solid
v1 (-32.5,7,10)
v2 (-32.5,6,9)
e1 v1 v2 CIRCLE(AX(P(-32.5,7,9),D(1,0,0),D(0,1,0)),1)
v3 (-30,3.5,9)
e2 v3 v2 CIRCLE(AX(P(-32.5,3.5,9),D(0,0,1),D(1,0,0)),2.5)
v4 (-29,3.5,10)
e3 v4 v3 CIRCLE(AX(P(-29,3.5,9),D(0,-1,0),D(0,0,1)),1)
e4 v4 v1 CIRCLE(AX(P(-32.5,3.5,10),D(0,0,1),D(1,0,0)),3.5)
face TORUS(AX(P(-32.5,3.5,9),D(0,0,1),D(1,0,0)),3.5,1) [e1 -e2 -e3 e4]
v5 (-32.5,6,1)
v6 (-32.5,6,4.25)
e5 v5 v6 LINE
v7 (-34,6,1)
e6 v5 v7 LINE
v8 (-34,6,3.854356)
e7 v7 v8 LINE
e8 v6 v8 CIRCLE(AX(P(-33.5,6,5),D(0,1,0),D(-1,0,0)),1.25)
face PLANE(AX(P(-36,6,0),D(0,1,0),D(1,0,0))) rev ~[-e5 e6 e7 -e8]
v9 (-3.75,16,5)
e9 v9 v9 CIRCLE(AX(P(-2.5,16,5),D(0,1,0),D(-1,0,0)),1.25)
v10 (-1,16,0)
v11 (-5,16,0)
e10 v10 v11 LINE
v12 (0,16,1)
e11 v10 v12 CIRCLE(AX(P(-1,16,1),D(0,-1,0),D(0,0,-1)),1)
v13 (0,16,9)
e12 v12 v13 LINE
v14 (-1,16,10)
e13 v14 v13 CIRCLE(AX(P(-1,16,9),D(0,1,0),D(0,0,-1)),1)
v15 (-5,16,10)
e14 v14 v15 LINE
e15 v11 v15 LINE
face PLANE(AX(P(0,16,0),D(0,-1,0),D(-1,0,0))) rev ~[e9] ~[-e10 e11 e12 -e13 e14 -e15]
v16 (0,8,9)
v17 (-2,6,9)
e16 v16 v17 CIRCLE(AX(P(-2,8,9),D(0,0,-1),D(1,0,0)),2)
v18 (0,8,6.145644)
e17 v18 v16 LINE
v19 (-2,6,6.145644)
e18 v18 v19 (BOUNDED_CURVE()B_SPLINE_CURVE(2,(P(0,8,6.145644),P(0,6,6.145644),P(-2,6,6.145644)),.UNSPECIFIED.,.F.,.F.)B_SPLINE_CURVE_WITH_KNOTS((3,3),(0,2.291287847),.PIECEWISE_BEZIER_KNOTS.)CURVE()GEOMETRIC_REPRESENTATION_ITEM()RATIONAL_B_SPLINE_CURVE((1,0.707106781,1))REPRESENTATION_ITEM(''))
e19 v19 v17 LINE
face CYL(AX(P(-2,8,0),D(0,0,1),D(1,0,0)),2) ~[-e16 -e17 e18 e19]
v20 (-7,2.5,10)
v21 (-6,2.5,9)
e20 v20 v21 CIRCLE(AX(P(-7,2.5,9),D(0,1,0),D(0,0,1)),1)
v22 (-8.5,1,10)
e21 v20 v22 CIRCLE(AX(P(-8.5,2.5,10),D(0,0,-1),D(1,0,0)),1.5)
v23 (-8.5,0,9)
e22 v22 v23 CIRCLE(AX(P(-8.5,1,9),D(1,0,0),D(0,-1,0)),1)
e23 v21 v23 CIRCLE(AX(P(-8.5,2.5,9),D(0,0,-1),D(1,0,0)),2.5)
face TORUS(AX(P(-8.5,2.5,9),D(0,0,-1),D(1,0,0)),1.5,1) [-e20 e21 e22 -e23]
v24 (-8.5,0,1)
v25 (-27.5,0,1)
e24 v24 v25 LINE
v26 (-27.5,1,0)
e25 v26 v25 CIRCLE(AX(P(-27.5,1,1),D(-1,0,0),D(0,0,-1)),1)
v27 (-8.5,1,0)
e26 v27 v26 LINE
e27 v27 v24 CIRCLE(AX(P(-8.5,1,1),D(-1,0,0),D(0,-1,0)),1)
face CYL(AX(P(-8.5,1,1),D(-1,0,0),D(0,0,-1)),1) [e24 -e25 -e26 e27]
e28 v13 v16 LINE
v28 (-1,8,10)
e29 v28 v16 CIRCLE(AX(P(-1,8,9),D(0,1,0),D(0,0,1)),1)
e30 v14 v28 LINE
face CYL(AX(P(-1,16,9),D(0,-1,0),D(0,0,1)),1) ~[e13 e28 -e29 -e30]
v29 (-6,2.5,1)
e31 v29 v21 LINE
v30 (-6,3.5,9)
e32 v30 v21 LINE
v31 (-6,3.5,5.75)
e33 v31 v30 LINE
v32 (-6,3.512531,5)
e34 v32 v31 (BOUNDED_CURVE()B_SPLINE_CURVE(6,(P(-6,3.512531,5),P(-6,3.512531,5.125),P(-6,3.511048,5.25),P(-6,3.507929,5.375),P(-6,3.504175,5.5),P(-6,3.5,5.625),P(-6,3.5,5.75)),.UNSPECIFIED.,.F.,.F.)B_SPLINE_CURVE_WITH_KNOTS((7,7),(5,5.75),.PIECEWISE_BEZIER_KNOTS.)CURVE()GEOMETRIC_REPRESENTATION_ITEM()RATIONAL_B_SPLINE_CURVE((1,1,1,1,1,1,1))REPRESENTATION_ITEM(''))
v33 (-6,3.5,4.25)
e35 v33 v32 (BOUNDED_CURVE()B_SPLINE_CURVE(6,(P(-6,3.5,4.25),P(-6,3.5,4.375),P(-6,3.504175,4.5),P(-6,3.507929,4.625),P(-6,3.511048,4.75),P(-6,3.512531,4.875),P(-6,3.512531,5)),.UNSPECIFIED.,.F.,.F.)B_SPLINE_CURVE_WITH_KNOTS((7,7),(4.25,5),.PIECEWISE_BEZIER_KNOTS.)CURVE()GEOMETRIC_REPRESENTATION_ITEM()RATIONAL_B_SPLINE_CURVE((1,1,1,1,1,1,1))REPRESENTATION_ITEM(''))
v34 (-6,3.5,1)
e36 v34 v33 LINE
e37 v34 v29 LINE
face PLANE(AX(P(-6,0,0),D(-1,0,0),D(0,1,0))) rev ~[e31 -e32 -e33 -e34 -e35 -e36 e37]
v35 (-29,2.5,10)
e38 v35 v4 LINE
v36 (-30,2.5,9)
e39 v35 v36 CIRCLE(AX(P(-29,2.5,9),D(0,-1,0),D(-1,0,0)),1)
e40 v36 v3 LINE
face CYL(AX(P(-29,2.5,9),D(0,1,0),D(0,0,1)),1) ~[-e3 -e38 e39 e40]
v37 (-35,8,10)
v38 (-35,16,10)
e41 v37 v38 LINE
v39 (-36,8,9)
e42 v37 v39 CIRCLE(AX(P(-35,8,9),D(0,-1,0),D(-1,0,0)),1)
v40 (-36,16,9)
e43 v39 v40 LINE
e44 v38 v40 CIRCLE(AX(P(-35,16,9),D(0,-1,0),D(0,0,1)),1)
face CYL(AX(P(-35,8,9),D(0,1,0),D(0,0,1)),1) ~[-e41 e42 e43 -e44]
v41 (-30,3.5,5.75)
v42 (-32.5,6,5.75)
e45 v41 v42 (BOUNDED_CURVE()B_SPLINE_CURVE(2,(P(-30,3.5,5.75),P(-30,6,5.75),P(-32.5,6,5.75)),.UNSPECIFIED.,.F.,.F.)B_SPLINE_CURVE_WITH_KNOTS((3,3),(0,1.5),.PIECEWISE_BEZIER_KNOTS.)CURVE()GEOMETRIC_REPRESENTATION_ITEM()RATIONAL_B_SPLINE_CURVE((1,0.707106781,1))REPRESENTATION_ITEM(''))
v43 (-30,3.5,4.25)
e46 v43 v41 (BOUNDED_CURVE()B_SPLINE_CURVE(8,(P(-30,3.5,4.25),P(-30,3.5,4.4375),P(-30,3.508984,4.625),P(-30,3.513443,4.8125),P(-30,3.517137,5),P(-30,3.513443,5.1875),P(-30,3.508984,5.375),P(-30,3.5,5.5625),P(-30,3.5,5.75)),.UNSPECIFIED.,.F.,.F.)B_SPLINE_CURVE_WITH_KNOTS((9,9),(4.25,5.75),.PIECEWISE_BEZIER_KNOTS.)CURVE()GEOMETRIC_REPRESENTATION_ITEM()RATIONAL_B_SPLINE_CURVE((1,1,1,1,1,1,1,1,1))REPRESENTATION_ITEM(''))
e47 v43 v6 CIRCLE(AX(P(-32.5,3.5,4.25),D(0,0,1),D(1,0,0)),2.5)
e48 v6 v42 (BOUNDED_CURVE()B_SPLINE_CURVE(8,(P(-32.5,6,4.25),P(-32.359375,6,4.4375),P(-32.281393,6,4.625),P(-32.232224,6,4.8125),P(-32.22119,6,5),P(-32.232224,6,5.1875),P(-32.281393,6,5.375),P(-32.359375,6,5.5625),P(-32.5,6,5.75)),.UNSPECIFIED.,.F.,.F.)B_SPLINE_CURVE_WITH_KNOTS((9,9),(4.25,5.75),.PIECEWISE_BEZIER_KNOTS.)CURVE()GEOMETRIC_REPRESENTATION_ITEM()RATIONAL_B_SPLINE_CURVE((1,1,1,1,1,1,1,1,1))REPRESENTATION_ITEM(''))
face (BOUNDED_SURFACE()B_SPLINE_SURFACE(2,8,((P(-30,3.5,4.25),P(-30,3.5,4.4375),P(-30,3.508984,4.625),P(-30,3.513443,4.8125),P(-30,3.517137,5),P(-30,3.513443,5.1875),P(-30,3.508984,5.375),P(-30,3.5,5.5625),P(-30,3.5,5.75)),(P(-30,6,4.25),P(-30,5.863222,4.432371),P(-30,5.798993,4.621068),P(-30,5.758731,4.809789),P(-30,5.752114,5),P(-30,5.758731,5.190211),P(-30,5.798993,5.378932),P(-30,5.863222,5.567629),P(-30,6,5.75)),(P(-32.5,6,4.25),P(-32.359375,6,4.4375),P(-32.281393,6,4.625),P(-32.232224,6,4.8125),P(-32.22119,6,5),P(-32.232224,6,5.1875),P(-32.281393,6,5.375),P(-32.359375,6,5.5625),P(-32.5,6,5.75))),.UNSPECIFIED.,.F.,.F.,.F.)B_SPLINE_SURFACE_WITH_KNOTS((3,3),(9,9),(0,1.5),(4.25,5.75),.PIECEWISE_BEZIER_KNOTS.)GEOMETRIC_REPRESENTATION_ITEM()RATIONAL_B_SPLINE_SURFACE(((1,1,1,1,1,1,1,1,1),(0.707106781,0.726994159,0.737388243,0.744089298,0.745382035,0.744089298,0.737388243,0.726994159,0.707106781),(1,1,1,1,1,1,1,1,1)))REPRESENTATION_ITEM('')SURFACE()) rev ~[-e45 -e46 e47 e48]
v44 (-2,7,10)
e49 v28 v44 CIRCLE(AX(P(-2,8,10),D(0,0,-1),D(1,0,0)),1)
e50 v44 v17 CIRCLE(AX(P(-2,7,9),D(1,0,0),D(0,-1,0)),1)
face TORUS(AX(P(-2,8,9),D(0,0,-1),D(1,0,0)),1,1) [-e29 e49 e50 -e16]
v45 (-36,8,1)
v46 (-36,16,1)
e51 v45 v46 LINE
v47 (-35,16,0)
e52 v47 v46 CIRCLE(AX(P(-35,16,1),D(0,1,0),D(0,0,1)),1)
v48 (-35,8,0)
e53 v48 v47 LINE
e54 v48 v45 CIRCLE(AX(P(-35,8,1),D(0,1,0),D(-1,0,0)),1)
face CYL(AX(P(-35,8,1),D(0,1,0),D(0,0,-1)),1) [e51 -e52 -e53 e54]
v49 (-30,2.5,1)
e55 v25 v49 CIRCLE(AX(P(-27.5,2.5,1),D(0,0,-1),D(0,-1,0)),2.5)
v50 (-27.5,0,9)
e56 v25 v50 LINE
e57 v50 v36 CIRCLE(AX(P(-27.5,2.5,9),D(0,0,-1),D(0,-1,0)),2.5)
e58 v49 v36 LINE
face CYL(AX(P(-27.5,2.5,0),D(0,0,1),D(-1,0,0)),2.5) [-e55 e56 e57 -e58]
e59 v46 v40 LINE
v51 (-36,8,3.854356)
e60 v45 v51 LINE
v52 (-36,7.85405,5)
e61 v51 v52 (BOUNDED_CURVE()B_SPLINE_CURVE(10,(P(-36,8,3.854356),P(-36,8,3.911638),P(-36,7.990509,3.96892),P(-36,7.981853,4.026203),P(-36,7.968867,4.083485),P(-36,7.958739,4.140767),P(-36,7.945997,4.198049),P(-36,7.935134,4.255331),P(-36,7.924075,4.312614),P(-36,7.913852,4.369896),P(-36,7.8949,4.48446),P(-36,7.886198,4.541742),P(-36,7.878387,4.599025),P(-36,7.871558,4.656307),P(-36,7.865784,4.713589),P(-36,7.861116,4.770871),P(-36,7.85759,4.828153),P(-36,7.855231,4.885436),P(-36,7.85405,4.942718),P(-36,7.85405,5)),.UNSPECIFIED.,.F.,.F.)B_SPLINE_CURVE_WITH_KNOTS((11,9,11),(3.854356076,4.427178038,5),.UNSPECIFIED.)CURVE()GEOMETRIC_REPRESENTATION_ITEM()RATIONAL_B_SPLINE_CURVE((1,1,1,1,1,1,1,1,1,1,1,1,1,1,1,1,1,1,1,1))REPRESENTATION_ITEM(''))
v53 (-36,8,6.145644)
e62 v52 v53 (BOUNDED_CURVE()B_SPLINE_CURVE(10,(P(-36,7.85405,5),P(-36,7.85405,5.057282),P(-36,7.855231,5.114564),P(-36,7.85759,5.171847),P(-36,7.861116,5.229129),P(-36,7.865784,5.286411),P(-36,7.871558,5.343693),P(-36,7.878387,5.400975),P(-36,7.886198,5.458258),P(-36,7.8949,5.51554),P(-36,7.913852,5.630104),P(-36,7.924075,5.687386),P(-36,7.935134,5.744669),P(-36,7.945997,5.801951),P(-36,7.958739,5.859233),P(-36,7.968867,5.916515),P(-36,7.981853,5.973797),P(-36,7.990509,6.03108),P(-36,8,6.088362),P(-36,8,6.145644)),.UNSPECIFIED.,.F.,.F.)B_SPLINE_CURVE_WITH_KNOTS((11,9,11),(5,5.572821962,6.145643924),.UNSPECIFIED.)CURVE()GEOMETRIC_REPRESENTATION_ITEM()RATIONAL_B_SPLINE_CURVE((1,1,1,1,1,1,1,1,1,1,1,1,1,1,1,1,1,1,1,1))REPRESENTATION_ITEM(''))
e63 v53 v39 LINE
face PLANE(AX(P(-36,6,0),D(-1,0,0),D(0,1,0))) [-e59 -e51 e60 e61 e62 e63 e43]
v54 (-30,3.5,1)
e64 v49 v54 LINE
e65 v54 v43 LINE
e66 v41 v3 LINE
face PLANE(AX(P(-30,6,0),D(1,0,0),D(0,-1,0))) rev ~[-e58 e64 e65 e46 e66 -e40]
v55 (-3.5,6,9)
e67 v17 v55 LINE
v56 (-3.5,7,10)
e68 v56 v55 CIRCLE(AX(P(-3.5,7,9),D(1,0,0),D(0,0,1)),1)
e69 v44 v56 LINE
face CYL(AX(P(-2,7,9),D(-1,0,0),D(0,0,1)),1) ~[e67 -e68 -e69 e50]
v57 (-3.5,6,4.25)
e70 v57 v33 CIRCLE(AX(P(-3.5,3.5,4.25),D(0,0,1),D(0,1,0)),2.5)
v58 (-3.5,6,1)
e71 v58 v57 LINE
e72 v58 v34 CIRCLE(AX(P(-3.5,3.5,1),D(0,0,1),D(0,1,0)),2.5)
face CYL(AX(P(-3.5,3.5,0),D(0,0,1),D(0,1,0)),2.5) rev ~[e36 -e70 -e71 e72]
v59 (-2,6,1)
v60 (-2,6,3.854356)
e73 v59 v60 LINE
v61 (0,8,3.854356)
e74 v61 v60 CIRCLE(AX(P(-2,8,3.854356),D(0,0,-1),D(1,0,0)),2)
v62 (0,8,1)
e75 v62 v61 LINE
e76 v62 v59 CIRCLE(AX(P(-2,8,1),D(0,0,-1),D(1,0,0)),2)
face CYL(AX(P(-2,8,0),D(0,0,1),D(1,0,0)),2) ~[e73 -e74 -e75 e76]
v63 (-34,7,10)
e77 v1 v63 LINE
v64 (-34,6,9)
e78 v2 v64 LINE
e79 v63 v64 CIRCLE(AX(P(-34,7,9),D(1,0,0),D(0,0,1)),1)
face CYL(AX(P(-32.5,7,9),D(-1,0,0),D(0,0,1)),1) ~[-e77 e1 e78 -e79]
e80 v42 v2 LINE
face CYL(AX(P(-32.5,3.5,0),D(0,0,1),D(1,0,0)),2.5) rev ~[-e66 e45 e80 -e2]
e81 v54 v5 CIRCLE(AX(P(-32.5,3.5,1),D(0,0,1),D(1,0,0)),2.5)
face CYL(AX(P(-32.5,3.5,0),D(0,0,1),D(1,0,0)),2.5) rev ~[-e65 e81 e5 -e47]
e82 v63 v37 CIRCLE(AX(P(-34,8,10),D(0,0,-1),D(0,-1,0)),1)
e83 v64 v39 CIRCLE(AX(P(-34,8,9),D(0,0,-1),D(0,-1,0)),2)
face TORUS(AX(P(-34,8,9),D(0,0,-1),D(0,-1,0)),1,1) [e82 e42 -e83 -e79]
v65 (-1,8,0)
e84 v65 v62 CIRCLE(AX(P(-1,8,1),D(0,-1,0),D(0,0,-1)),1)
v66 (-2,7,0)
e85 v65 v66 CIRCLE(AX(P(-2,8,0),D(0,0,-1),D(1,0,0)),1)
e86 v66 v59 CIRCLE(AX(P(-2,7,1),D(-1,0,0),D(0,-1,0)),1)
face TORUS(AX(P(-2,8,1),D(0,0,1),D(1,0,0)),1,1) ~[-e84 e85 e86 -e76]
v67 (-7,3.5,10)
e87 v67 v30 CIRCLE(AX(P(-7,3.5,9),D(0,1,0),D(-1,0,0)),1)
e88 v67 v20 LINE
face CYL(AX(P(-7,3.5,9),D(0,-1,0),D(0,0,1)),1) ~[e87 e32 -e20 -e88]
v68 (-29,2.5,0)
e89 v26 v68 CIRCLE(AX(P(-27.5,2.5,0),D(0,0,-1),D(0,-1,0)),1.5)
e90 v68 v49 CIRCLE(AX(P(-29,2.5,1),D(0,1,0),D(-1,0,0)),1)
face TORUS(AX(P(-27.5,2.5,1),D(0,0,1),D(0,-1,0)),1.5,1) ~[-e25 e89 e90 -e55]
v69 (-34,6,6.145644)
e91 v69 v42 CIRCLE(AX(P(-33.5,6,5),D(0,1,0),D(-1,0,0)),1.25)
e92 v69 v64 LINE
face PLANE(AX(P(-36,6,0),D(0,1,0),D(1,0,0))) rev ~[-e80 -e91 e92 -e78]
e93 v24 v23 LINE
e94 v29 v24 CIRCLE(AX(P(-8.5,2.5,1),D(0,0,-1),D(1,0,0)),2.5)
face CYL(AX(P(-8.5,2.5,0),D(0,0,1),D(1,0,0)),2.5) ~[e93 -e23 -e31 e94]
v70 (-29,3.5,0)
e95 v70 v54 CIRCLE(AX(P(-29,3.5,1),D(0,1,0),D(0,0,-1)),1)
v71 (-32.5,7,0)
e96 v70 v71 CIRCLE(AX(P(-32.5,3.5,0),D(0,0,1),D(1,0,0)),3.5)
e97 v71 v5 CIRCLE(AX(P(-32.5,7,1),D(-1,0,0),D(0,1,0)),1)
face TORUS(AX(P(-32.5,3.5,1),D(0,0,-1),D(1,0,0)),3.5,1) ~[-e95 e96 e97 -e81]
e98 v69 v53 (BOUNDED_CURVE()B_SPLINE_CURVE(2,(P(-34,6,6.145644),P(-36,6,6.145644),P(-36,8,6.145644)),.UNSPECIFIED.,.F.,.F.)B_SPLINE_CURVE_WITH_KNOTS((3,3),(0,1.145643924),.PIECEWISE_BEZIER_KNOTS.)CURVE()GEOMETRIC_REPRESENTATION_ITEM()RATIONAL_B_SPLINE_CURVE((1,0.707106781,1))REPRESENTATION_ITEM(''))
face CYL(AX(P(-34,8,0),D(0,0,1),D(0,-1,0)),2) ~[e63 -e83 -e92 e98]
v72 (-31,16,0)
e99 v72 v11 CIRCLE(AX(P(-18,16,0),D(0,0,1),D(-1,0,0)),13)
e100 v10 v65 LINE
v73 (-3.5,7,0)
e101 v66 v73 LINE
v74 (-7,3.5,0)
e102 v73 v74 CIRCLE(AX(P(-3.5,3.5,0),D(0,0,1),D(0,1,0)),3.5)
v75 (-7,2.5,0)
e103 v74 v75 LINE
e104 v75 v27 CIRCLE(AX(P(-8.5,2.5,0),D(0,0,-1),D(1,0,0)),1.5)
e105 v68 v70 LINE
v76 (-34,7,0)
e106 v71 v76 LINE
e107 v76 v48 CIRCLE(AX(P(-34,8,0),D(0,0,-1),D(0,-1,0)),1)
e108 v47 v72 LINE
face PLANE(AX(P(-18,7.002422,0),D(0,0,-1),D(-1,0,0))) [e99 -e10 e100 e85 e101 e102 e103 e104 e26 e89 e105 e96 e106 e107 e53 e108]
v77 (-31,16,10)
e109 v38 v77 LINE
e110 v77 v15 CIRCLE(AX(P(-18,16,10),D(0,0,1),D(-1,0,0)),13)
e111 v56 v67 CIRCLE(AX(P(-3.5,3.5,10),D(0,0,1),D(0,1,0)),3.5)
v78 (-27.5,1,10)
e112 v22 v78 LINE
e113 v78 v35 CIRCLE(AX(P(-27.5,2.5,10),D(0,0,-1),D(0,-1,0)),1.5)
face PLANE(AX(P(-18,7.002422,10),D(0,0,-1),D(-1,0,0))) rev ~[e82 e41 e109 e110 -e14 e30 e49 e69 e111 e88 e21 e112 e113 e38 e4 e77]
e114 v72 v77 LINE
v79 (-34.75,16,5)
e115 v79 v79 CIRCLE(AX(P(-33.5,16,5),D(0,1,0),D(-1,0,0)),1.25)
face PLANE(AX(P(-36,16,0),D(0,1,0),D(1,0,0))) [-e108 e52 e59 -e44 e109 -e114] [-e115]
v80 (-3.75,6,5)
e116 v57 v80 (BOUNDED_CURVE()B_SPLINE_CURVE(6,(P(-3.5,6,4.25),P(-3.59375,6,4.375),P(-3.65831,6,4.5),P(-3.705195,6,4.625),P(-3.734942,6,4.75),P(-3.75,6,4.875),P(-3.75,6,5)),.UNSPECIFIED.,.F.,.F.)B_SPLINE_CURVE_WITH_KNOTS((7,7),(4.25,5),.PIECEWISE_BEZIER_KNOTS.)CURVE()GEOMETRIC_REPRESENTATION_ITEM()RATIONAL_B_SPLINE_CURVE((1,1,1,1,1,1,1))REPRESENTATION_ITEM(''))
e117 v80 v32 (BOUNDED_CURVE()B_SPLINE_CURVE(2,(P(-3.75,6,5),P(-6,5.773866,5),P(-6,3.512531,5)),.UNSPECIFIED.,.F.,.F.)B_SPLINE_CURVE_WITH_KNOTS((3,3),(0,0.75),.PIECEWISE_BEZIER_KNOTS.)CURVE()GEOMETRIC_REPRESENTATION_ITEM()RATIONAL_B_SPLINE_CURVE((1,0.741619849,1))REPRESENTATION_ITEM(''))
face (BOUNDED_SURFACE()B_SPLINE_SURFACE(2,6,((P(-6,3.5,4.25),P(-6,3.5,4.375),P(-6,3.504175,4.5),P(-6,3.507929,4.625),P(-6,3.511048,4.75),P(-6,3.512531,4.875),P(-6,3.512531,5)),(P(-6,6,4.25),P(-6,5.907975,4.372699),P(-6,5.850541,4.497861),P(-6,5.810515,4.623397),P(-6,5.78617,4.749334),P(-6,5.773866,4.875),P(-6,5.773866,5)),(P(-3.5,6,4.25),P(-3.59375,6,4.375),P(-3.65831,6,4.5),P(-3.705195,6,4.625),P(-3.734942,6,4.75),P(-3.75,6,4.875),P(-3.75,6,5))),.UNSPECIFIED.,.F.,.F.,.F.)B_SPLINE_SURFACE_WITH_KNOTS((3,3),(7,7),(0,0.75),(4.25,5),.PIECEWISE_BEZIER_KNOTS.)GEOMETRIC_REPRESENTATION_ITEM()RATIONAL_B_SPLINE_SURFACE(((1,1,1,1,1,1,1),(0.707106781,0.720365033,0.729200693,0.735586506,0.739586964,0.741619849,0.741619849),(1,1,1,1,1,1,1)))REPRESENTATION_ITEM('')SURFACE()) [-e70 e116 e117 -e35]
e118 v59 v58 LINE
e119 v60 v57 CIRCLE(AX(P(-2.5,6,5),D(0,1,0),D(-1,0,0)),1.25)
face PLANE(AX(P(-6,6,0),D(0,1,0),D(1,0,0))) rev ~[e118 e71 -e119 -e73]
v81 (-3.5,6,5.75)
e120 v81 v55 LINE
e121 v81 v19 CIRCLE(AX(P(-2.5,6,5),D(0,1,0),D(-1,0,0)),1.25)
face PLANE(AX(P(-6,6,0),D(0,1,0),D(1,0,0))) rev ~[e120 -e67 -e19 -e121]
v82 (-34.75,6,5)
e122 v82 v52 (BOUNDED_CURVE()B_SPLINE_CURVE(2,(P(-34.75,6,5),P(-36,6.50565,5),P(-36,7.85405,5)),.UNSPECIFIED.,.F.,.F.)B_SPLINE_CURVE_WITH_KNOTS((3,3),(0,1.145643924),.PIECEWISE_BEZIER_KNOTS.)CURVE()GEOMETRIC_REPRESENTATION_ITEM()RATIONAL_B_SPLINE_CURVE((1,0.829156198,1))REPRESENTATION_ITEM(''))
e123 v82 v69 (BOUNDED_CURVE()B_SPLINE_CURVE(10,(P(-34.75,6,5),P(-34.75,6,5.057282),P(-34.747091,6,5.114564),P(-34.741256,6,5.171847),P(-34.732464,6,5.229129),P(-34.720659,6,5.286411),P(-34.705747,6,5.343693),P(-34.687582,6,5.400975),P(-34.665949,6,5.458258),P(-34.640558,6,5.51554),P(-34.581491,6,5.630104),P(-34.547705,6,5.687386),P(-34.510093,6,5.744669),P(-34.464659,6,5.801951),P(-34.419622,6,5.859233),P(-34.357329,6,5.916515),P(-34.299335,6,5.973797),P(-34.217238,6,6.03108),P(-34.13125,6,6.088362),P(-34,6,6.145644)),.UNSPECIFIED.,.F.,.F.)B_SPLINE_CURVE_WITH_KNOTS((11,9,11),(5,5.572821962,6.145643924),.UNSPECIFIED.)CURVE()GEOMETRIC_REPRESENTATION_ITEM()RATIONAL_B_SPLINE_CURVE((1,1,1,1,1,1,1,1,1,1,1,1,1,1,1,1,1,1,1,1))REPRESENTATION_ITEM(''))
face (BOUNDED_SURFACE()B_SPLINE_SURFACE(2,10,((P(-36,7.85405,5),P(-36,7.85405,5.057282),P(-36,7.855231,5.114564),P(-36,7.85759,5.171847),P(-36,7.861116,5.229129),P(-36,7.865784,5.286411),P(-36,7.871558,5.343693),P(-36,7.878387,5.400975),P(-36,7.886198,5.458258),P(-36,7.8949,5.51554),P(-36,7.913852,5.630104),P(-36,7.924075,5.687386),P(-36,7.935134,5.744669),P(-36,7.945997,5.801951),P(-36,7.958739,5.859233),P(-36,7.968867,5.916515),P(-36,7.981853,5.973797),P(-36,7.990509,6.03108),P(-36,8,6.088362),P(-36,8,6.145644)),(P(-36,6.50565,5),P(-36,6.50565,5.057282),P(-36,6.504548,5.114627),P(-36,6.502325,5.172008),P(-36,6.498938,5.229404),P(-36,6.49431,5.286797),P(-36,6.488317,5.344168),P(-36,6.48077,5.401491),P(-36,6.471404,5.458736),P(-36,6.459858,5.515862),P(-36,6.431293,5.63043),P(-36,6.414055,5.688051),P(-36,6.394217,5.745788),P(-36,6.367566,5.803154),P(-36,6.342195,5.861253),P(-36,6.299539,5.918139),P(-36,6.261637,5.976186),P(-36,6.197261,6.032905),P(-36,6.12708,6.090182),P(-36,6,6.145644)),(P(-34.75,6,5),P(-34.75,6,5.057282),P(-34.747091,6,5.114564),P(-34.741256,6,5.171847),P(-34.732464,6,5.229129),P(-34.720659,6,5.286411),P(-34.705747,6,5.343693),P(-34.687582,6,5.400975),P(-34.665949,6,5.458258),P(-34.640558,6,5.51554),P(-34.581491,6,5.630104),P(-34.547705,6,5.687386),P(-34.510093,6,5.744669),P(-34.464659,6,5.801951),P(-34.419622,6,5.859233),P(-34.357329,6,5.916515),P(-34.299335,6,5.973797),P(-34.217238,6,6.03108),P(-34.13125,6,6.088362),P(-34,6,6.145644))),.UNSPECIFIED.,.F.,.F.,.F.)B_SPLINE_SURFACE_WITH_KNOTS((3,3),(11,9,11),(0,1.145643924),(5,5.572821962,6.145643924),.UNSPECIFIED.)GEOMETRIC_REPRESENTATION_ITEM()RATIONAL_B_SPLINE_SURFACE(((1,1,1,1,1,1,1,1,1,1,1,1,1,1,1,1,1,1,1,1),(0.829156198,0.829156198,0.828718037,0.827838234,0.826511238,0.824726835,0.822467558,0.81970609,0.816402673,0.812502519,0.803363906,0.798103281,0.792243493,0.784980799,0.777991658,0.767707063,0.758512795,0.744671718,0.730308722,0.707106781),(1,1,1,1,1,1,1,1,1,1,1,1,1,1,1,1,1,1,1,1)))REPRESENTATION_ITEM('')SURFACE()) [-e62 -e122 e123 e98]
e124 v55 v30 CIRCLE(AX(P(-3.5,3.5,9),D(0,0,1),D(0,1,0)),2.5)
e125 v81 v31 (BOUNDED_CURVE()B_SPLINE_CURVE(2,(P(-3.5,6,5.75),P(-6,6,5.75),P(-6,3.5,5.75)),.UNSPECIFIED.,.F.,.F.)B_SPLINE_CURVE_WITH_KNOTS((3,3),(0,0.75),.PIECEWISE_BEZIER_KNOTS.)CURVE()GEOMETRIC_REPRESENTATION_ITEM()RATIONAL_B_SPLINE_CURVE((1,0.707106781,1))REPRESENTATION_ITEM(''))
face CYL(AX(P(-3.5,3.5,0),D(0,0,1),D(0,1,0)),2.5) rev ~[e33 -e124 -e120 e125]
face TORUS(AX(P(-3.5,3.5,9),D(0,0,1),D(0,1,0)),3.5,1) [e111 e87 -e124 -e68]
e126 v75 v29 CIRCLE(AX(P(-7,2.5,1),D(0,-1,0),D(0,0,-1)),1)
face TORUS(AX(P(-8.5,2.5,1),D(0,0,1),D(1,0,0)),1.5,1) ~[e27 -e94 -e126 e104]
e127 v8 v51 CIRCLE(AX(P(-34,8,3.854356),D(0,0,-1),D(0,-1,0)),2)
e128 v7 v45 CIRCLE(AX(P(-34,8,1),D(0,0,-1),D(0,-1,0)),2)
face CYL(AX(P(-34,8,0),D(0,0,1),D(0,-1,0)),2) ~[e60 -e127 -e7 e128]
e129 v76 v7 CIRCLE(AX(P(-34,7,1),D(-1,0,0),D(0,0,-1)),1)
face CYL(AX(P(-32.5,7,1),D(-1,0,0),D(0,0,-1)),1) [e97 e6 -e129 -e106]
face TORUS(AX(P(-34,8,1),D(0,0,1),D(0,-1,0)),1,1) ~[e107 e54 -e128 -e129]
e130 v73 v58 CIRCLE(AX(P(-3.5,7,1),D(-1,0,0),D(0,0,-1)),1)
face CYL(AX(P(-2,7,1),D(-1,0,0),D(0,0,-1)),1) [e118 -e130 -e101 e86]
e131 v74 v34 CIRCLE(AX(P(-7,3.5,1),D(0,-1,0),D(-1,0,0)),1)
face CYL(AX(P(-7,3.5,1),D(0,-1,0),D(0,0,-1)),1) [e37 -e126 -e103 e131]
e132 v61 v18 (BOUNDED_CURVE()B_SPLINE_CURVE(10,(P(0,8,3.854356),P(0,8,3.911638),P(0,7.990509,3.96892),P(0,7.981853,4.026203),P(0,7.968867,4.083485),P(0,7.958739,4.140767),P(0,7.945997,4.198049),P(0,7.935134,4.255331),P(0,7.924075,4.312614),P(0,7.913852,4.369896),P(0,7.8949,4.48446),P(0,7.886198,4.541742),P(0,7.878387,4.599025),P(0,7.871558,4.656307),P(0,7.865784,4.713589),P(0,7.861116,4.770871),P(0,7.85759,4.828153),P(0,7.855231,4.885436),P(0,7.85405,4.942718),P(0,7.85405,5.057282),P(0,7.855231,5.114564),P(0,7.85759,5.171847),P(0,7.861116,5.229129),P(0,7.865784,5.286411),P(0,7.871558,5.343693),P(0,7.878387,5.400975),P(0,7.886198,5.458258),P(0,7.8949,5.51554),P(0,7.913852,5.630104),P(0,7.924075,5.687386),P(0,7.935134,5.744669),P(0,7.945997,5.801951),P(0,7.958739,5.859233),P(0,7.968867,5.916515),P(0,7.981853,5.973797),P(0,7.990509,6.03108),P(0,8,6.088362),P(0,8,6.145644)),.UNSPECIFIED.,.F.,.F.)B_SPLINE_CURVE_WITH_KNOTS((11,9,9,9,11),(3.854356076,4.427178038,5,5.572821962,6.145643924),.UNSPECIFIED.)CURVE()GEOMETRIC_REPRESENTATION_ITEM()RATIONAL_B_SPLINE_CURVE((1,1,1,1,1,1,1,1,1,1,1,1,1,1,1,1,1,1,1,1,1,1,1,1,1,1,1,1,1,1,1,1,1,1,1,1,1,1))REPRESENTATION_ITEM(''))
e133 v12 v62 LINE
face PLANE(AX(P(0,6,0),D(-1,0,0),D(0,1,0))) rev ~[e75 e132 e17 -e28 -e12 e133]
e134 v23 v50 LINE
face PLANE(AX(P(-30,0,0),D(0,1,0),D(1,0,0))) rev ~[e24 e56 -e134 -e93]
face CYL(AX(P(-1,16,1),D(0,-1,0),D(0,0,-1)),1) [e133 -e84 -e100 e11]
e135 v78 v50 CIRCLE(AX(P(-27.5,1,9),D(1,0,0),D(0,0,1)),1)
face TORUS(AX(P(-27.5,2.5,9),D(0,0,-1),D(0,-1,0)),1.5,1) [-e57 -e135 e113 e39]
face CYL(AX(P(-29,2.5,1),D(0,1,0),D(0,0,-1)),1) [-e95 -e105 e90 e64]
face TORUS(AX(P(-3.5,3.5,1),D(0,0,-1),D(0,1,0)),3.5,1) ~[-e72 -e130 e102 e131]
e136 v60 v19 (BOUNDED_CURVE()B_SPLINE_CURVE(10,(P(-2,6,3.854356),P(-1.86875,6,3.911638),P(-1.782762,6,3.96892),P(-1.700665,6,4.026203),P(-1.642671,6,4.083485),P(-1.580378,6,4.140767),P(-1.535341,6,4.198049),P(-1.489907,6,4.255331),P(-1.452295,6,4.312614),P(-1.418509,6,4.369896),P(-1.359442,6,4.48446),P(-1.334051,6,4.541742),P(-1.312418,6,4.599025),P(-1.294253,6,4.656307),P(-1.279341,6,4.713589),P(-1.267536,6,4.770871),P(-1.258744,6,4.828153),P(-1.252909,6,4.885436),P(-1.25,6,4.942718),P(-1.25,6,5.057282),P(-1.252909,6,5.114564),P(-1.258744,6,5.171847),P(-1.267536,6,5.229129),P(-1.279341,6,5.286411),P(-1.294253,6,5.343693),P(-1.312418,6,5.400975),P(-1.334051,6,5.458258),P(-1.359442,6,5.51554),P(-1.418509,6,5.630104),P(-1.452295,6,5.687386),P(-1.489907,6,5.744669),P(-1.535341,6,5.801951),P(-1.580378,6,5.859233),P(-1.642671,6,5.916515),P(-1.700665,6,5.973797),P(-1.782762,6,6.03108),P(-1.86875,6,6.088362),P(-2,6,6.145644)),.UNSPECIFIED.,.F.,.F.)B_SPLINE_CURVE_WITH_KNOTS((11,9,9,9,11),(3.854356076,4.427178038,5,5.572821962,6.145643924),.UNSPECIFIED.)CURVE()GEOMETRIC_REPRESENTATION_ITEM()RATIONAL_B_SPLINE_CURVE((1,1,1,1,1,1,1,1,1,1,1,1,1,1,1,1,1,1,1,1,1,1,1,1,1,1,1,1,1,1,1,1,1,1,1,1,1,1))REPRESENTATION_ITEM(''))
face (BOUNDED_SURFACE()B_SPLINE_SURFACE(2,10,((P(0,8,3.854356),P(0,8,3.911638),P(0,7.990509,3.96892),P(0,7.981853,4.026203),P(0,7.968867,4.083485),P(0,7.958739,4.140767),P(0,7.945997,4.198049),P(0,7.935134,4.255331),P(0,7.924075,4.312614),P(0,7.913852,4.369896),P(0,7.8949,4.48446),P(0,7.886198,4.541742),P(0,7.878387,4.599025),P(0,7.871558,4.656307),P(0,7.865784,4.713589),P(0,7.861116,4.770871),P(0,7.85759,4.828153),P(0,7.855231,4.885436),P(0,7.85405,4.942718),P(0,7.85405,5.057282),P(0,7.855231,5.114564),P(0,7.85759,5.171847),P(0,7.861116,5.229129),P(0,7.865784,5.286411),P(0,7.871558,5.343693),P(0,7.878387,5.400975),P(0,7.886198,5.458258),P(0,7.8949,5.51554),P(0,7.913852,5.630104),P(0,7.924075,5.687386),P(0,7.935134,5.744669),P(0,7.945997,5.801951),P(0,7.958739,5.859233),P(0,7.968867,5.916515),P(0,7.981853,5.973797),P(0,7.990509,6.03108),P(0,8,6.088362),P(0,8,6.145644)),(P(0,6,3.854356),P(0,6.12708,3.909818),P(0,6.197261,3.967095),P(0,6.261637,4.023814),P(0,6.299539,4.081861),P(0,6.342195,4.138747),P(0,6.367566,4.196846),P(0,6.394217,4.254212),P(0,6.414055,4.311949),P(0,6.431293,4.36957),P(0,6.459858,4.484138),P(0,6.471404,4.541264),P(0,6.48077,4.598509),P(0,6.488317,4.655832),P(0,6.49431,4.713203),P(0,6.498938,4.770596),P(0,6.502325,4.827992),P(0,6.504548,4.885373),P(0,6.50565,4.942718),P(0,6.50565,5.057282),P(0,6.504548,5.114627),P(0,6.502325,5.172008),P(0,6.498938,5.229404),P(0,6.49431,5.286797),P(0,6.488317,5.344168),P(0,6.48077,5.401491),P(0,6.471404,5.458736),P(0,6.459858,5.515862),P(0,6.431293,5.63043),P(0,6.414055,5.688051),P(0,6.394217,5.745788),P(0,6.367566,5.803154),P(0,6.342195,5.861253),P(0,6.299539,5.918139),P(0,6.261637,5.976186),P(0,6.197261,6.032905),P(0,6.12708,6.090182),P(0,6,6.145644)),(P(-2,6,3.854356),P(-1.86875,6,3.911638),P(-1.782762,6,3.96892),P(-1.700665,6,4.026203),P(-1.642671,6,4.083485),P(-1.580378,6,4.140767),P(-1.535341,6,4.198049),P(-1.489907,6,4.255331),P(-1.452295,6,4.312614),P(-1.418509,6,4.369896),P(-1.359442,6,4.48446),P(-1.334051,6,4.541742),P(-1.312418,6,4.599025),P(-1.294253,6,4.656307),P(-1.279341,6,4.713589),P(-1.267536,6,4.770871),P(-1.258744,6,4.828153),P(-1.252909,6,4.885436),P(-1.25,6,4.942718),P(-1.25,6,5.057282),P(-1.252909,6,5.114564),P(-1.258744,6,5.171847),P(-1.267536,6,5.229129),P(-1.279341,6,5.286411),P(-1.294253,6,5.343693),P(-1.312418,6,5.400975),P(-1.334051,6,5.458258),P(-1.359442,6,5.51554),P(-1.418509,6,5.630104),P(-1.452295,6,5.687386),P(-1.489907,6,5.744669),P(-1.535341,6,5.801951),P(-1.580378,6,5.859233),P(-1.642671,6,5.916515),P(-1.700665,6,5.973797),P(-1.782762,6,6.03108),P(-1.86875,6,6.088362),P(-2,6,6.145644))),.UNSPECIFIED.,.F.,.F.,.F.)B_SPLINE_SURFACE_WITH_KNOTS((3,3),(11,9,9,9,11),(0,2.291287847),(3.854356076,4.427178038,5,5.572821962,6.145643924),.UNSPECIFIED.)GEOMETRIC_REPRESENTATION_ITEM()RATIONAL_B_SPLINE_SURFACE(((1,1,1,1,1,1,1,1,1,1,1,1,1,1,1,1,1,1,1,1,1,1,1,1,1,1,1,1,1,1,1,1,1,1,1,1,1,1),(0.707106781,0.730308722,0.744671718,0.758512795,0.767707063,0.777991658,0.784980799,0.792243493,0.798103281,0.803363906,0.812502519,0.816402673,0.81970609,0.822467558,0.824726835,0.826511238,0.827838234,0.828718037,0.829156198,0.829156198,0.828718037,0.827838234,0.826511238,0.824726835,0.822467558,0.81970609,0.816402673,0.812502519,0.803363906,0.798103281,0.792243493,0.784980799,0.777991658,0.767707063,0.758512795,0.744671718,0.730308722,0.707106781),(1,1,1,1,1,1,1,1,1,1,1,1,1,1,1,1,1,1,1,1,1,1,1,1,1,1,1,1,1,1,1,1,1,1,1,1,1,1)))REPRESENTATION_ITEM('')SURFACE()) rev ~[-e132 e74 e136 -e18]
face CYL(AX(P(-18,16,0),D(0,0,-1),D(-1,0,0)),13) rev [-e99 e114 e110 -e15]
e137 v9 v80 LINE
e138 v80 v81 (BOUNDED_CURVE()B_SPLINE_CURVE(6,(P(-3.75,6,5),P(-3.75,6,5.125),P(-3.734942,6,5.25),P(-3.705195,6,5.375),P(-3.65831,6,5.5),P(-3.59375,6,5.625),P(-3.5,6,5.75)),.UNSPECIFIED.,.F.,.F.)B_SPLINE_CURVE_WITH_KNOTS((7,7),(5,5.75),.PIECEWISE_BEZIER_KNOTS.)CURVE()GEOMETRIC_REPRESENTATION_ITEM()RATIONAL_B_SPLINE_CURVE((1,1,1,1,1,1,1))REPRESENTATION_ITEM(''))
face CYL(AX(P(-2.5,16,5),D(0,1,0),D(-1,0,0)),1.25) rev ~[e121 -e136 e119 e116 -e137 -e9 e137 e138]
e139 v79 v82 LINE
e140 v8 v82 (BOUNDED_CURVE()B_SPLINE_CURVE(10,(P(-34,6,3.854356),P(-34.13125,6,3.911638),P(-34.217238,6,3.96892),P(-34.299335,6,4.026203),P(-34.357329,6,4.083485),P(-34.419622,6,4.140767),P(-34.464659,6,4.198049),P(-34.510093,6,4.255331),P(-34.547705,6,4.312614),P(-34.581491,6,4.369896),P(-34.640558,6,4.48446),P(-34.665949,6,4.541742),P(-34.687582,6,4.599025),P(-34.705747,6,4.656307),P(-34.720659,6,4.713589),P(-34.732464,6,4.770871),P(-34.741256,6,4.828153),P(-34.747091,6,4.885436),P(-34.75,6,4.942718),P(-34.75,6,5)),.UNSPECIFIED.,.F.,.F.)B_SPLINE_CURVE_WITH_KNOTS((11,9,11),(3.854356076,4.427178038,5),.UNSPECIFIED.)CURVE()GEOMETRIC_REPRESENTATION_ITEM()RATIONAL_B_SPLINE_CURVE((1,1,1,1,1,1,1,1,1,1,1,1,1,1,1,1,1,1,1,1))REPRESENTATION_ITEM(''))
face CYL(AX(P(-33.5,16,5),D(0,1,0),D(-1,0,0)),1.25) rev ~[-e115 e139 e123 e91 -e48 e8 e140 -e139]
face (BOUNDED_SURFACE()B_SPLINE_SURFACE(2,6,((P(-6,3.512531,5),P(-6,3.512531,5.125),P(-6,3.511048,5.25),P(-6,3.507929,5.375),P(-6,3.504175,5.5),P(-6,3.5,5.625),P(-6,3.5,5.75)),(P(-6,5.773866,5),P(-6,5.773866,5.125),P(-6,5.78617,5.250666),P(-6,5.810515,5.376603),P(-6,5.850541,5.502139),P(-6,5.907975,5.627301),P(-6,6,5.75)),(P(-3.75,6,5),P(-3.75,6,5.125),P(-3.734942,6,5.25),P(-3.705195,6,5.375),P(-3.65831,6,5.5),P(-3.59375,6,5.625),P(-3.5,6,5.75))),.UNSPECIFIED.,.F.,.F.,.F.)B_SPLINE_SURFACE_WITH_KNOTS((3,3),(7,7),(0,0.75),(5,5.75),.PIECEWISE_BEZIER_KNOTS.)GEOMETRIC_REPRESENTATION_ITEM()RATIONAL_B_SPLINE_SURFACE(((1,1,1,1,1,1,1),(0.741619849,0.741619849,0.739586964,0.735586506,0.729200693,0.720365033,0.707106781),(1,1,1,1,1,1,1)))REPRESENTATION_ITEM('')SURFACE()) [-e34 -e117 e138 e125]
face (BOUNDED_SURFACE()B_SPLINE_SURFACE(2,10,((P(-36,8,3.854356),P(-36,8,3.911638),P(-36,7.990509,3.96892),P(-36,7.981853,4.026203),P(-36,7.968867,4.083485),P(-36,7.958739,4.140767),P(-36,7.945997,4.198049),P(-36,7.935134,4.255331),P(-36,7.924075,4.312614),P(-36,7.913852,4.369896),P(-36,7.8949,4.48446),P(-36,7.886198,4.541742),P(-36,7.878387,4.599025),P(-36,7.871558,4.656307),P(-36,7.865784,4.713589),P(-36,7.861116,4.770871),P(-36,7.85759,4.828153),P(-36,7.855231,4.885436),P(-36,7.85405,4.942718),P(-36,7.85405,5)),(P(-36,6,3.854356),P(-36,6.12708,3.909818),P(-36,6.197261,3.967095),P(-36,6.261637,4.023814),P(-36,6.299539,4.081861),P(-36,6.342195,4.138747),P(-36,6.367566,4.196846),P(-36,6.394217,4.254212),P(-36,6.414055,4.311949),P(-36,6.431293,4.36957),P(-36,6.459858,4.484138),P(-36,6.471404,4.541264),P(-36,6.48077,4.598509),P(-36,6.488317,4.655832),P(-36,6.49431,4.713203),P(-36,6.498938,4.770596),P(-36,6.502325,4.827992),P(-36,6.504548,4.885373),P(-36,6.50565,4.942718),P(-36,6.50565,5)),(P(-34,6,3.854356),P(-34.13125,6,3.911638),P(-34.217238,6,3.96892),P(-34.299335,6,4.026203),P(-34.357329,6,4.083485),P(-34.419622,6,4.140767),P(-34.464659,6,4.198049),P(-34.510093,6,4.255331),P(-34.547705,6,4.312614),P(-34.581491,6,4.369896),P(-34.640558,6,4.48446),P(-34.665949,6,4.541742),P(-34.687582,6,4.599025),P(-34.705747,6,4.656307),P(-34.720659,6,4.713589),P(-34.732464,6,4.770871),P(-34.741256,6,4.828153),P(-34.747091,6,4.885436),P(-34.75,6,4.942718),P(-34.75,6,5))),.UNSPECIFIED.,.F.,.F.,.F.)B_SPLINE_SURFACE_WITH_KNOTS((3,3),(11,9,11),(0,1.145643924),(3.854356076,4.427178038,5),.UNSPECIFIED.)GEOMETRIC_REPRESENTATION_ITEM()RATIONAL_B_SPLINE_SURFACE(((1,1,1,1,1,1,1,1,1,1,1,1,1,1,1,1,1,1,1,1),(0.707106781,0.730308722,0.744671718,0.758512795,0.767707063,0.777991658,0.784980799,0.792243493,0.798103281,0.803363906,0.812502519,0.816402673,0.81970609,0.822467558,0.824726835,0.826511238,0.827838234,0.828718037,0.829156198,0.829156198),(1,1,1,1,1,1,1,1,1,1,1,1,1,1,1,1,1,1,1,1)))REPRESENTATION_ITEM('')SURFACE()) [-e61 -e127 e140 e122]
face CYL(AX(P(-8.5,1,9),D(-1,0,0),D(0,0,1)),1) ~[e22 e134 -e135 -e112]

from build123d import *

# Parameters (mm, degrees)
PAD_DEPTH    = 10
SKETCH_R     = 1.25
POCKET_DEPTH = 16.001
FILLET_R     = 2.5
FILLET001_R  = 2.5
FILLET002_R  = 2.5
FILLET003_R  = 2.5
FILLET004_R  = 2
FILLET005_R  = 2
FILLET006_R  = 1
FILLET007_R  = 1


with BuildPart() as part:
    # Sketch001 → Pad (new body)
    with BuildSketch(Plane.XY):
        with BuildLine():
            Line((-36, 16), (-31, 16))
            ThreePointArc((-31, 16), (-18, 3), (-5, 16))
            Line((0, 16), (-5, 16))
            Line((0, 6), (0, 16))
            Line((-6, 6), (0, 6))
            Line((-6, 0), (-6, 6))
            Line((-30, 0), (-6, 0))
            Line((-30, 6), (-30, 0))
            Line((-36, 6), (-30, 6))
            Line((-36, 6), (-36, 16))
        make_face()
    extrude(amount=PAD_DEPTH)

    # Sketch (on Face4 of Pad) → Pocket (cut, through all)
    with BuildSketch(Plane(origin=(0, 16, 0), x_dir=(-1, 0, 0), z_dir=(0, 1, 0))):
        with Locations((2.5, 5)):
            Circle(SKETCH_R)
        with Locations((33.5, 5)):
            Circle(SKETCH_R)
    extrude(amount=-POCKET_DEPTH, mode=Mode.SUBTRACT)

    # Fillet
    fillet_edges = [part.edges().sort_by_distance(p)[0] for p in [
        (-6, 6, 5),
    ]]
    fillet(fillet_edges, radius=FILLET_R)

    # Fillet001
    fillet001_edges = [part.edges().sort_by_distance(p)[0] for p in [
        (-6, 0, 5),
    ]]
    fillet(fillet001_edges, radius=FILLET001_R)

    # Fillet002
    fillet002_edges = [part.edges().sort_by_distance(p)[0] for p in [
        (-30, 6, 5),
    ]]
    fillet(fillet002_edges, radius=FILLET002_R)

    # Fillet003
    fillet003_edges = [part.edges().sort_by_distance(p)[0] for p in [
        (-30, 0, 5),
    ]]
    fillet(fillet003_edges, radius=FILLET003_R)

    # Fillet004
    fillet004_edges = [part.edges().sort_by_distance(p)[0] for p in [
        (-36, 6, 5),
    ]]
    fillet(fillet004_edges, radius=FILLET004_R)

    # Fillet005
    fillet005_edges = [part.edges().sort_by_distance(p)[0] for p in [
        (0, 6, 5),
    ]]
    fillet(fillet005_edges, radius=FILLET005_R)

    # Fillet006
    fillet006_edges = [part.edges().sort_by_distance(p)[0] for p in [
        (-35.414214, 6.585786, 10),
    ]]
    fillet(fillet006_edges, radius=FILLET006_R)

    # Fillet007
    fillet007_edges = [part.edges().sort_by_distance(p)[0] for p in [
        (-30.732233, 5.267767, 0),
    ]]
    fillet(fillet007_edges, radius=FILLET007_R)


solid = part.part
